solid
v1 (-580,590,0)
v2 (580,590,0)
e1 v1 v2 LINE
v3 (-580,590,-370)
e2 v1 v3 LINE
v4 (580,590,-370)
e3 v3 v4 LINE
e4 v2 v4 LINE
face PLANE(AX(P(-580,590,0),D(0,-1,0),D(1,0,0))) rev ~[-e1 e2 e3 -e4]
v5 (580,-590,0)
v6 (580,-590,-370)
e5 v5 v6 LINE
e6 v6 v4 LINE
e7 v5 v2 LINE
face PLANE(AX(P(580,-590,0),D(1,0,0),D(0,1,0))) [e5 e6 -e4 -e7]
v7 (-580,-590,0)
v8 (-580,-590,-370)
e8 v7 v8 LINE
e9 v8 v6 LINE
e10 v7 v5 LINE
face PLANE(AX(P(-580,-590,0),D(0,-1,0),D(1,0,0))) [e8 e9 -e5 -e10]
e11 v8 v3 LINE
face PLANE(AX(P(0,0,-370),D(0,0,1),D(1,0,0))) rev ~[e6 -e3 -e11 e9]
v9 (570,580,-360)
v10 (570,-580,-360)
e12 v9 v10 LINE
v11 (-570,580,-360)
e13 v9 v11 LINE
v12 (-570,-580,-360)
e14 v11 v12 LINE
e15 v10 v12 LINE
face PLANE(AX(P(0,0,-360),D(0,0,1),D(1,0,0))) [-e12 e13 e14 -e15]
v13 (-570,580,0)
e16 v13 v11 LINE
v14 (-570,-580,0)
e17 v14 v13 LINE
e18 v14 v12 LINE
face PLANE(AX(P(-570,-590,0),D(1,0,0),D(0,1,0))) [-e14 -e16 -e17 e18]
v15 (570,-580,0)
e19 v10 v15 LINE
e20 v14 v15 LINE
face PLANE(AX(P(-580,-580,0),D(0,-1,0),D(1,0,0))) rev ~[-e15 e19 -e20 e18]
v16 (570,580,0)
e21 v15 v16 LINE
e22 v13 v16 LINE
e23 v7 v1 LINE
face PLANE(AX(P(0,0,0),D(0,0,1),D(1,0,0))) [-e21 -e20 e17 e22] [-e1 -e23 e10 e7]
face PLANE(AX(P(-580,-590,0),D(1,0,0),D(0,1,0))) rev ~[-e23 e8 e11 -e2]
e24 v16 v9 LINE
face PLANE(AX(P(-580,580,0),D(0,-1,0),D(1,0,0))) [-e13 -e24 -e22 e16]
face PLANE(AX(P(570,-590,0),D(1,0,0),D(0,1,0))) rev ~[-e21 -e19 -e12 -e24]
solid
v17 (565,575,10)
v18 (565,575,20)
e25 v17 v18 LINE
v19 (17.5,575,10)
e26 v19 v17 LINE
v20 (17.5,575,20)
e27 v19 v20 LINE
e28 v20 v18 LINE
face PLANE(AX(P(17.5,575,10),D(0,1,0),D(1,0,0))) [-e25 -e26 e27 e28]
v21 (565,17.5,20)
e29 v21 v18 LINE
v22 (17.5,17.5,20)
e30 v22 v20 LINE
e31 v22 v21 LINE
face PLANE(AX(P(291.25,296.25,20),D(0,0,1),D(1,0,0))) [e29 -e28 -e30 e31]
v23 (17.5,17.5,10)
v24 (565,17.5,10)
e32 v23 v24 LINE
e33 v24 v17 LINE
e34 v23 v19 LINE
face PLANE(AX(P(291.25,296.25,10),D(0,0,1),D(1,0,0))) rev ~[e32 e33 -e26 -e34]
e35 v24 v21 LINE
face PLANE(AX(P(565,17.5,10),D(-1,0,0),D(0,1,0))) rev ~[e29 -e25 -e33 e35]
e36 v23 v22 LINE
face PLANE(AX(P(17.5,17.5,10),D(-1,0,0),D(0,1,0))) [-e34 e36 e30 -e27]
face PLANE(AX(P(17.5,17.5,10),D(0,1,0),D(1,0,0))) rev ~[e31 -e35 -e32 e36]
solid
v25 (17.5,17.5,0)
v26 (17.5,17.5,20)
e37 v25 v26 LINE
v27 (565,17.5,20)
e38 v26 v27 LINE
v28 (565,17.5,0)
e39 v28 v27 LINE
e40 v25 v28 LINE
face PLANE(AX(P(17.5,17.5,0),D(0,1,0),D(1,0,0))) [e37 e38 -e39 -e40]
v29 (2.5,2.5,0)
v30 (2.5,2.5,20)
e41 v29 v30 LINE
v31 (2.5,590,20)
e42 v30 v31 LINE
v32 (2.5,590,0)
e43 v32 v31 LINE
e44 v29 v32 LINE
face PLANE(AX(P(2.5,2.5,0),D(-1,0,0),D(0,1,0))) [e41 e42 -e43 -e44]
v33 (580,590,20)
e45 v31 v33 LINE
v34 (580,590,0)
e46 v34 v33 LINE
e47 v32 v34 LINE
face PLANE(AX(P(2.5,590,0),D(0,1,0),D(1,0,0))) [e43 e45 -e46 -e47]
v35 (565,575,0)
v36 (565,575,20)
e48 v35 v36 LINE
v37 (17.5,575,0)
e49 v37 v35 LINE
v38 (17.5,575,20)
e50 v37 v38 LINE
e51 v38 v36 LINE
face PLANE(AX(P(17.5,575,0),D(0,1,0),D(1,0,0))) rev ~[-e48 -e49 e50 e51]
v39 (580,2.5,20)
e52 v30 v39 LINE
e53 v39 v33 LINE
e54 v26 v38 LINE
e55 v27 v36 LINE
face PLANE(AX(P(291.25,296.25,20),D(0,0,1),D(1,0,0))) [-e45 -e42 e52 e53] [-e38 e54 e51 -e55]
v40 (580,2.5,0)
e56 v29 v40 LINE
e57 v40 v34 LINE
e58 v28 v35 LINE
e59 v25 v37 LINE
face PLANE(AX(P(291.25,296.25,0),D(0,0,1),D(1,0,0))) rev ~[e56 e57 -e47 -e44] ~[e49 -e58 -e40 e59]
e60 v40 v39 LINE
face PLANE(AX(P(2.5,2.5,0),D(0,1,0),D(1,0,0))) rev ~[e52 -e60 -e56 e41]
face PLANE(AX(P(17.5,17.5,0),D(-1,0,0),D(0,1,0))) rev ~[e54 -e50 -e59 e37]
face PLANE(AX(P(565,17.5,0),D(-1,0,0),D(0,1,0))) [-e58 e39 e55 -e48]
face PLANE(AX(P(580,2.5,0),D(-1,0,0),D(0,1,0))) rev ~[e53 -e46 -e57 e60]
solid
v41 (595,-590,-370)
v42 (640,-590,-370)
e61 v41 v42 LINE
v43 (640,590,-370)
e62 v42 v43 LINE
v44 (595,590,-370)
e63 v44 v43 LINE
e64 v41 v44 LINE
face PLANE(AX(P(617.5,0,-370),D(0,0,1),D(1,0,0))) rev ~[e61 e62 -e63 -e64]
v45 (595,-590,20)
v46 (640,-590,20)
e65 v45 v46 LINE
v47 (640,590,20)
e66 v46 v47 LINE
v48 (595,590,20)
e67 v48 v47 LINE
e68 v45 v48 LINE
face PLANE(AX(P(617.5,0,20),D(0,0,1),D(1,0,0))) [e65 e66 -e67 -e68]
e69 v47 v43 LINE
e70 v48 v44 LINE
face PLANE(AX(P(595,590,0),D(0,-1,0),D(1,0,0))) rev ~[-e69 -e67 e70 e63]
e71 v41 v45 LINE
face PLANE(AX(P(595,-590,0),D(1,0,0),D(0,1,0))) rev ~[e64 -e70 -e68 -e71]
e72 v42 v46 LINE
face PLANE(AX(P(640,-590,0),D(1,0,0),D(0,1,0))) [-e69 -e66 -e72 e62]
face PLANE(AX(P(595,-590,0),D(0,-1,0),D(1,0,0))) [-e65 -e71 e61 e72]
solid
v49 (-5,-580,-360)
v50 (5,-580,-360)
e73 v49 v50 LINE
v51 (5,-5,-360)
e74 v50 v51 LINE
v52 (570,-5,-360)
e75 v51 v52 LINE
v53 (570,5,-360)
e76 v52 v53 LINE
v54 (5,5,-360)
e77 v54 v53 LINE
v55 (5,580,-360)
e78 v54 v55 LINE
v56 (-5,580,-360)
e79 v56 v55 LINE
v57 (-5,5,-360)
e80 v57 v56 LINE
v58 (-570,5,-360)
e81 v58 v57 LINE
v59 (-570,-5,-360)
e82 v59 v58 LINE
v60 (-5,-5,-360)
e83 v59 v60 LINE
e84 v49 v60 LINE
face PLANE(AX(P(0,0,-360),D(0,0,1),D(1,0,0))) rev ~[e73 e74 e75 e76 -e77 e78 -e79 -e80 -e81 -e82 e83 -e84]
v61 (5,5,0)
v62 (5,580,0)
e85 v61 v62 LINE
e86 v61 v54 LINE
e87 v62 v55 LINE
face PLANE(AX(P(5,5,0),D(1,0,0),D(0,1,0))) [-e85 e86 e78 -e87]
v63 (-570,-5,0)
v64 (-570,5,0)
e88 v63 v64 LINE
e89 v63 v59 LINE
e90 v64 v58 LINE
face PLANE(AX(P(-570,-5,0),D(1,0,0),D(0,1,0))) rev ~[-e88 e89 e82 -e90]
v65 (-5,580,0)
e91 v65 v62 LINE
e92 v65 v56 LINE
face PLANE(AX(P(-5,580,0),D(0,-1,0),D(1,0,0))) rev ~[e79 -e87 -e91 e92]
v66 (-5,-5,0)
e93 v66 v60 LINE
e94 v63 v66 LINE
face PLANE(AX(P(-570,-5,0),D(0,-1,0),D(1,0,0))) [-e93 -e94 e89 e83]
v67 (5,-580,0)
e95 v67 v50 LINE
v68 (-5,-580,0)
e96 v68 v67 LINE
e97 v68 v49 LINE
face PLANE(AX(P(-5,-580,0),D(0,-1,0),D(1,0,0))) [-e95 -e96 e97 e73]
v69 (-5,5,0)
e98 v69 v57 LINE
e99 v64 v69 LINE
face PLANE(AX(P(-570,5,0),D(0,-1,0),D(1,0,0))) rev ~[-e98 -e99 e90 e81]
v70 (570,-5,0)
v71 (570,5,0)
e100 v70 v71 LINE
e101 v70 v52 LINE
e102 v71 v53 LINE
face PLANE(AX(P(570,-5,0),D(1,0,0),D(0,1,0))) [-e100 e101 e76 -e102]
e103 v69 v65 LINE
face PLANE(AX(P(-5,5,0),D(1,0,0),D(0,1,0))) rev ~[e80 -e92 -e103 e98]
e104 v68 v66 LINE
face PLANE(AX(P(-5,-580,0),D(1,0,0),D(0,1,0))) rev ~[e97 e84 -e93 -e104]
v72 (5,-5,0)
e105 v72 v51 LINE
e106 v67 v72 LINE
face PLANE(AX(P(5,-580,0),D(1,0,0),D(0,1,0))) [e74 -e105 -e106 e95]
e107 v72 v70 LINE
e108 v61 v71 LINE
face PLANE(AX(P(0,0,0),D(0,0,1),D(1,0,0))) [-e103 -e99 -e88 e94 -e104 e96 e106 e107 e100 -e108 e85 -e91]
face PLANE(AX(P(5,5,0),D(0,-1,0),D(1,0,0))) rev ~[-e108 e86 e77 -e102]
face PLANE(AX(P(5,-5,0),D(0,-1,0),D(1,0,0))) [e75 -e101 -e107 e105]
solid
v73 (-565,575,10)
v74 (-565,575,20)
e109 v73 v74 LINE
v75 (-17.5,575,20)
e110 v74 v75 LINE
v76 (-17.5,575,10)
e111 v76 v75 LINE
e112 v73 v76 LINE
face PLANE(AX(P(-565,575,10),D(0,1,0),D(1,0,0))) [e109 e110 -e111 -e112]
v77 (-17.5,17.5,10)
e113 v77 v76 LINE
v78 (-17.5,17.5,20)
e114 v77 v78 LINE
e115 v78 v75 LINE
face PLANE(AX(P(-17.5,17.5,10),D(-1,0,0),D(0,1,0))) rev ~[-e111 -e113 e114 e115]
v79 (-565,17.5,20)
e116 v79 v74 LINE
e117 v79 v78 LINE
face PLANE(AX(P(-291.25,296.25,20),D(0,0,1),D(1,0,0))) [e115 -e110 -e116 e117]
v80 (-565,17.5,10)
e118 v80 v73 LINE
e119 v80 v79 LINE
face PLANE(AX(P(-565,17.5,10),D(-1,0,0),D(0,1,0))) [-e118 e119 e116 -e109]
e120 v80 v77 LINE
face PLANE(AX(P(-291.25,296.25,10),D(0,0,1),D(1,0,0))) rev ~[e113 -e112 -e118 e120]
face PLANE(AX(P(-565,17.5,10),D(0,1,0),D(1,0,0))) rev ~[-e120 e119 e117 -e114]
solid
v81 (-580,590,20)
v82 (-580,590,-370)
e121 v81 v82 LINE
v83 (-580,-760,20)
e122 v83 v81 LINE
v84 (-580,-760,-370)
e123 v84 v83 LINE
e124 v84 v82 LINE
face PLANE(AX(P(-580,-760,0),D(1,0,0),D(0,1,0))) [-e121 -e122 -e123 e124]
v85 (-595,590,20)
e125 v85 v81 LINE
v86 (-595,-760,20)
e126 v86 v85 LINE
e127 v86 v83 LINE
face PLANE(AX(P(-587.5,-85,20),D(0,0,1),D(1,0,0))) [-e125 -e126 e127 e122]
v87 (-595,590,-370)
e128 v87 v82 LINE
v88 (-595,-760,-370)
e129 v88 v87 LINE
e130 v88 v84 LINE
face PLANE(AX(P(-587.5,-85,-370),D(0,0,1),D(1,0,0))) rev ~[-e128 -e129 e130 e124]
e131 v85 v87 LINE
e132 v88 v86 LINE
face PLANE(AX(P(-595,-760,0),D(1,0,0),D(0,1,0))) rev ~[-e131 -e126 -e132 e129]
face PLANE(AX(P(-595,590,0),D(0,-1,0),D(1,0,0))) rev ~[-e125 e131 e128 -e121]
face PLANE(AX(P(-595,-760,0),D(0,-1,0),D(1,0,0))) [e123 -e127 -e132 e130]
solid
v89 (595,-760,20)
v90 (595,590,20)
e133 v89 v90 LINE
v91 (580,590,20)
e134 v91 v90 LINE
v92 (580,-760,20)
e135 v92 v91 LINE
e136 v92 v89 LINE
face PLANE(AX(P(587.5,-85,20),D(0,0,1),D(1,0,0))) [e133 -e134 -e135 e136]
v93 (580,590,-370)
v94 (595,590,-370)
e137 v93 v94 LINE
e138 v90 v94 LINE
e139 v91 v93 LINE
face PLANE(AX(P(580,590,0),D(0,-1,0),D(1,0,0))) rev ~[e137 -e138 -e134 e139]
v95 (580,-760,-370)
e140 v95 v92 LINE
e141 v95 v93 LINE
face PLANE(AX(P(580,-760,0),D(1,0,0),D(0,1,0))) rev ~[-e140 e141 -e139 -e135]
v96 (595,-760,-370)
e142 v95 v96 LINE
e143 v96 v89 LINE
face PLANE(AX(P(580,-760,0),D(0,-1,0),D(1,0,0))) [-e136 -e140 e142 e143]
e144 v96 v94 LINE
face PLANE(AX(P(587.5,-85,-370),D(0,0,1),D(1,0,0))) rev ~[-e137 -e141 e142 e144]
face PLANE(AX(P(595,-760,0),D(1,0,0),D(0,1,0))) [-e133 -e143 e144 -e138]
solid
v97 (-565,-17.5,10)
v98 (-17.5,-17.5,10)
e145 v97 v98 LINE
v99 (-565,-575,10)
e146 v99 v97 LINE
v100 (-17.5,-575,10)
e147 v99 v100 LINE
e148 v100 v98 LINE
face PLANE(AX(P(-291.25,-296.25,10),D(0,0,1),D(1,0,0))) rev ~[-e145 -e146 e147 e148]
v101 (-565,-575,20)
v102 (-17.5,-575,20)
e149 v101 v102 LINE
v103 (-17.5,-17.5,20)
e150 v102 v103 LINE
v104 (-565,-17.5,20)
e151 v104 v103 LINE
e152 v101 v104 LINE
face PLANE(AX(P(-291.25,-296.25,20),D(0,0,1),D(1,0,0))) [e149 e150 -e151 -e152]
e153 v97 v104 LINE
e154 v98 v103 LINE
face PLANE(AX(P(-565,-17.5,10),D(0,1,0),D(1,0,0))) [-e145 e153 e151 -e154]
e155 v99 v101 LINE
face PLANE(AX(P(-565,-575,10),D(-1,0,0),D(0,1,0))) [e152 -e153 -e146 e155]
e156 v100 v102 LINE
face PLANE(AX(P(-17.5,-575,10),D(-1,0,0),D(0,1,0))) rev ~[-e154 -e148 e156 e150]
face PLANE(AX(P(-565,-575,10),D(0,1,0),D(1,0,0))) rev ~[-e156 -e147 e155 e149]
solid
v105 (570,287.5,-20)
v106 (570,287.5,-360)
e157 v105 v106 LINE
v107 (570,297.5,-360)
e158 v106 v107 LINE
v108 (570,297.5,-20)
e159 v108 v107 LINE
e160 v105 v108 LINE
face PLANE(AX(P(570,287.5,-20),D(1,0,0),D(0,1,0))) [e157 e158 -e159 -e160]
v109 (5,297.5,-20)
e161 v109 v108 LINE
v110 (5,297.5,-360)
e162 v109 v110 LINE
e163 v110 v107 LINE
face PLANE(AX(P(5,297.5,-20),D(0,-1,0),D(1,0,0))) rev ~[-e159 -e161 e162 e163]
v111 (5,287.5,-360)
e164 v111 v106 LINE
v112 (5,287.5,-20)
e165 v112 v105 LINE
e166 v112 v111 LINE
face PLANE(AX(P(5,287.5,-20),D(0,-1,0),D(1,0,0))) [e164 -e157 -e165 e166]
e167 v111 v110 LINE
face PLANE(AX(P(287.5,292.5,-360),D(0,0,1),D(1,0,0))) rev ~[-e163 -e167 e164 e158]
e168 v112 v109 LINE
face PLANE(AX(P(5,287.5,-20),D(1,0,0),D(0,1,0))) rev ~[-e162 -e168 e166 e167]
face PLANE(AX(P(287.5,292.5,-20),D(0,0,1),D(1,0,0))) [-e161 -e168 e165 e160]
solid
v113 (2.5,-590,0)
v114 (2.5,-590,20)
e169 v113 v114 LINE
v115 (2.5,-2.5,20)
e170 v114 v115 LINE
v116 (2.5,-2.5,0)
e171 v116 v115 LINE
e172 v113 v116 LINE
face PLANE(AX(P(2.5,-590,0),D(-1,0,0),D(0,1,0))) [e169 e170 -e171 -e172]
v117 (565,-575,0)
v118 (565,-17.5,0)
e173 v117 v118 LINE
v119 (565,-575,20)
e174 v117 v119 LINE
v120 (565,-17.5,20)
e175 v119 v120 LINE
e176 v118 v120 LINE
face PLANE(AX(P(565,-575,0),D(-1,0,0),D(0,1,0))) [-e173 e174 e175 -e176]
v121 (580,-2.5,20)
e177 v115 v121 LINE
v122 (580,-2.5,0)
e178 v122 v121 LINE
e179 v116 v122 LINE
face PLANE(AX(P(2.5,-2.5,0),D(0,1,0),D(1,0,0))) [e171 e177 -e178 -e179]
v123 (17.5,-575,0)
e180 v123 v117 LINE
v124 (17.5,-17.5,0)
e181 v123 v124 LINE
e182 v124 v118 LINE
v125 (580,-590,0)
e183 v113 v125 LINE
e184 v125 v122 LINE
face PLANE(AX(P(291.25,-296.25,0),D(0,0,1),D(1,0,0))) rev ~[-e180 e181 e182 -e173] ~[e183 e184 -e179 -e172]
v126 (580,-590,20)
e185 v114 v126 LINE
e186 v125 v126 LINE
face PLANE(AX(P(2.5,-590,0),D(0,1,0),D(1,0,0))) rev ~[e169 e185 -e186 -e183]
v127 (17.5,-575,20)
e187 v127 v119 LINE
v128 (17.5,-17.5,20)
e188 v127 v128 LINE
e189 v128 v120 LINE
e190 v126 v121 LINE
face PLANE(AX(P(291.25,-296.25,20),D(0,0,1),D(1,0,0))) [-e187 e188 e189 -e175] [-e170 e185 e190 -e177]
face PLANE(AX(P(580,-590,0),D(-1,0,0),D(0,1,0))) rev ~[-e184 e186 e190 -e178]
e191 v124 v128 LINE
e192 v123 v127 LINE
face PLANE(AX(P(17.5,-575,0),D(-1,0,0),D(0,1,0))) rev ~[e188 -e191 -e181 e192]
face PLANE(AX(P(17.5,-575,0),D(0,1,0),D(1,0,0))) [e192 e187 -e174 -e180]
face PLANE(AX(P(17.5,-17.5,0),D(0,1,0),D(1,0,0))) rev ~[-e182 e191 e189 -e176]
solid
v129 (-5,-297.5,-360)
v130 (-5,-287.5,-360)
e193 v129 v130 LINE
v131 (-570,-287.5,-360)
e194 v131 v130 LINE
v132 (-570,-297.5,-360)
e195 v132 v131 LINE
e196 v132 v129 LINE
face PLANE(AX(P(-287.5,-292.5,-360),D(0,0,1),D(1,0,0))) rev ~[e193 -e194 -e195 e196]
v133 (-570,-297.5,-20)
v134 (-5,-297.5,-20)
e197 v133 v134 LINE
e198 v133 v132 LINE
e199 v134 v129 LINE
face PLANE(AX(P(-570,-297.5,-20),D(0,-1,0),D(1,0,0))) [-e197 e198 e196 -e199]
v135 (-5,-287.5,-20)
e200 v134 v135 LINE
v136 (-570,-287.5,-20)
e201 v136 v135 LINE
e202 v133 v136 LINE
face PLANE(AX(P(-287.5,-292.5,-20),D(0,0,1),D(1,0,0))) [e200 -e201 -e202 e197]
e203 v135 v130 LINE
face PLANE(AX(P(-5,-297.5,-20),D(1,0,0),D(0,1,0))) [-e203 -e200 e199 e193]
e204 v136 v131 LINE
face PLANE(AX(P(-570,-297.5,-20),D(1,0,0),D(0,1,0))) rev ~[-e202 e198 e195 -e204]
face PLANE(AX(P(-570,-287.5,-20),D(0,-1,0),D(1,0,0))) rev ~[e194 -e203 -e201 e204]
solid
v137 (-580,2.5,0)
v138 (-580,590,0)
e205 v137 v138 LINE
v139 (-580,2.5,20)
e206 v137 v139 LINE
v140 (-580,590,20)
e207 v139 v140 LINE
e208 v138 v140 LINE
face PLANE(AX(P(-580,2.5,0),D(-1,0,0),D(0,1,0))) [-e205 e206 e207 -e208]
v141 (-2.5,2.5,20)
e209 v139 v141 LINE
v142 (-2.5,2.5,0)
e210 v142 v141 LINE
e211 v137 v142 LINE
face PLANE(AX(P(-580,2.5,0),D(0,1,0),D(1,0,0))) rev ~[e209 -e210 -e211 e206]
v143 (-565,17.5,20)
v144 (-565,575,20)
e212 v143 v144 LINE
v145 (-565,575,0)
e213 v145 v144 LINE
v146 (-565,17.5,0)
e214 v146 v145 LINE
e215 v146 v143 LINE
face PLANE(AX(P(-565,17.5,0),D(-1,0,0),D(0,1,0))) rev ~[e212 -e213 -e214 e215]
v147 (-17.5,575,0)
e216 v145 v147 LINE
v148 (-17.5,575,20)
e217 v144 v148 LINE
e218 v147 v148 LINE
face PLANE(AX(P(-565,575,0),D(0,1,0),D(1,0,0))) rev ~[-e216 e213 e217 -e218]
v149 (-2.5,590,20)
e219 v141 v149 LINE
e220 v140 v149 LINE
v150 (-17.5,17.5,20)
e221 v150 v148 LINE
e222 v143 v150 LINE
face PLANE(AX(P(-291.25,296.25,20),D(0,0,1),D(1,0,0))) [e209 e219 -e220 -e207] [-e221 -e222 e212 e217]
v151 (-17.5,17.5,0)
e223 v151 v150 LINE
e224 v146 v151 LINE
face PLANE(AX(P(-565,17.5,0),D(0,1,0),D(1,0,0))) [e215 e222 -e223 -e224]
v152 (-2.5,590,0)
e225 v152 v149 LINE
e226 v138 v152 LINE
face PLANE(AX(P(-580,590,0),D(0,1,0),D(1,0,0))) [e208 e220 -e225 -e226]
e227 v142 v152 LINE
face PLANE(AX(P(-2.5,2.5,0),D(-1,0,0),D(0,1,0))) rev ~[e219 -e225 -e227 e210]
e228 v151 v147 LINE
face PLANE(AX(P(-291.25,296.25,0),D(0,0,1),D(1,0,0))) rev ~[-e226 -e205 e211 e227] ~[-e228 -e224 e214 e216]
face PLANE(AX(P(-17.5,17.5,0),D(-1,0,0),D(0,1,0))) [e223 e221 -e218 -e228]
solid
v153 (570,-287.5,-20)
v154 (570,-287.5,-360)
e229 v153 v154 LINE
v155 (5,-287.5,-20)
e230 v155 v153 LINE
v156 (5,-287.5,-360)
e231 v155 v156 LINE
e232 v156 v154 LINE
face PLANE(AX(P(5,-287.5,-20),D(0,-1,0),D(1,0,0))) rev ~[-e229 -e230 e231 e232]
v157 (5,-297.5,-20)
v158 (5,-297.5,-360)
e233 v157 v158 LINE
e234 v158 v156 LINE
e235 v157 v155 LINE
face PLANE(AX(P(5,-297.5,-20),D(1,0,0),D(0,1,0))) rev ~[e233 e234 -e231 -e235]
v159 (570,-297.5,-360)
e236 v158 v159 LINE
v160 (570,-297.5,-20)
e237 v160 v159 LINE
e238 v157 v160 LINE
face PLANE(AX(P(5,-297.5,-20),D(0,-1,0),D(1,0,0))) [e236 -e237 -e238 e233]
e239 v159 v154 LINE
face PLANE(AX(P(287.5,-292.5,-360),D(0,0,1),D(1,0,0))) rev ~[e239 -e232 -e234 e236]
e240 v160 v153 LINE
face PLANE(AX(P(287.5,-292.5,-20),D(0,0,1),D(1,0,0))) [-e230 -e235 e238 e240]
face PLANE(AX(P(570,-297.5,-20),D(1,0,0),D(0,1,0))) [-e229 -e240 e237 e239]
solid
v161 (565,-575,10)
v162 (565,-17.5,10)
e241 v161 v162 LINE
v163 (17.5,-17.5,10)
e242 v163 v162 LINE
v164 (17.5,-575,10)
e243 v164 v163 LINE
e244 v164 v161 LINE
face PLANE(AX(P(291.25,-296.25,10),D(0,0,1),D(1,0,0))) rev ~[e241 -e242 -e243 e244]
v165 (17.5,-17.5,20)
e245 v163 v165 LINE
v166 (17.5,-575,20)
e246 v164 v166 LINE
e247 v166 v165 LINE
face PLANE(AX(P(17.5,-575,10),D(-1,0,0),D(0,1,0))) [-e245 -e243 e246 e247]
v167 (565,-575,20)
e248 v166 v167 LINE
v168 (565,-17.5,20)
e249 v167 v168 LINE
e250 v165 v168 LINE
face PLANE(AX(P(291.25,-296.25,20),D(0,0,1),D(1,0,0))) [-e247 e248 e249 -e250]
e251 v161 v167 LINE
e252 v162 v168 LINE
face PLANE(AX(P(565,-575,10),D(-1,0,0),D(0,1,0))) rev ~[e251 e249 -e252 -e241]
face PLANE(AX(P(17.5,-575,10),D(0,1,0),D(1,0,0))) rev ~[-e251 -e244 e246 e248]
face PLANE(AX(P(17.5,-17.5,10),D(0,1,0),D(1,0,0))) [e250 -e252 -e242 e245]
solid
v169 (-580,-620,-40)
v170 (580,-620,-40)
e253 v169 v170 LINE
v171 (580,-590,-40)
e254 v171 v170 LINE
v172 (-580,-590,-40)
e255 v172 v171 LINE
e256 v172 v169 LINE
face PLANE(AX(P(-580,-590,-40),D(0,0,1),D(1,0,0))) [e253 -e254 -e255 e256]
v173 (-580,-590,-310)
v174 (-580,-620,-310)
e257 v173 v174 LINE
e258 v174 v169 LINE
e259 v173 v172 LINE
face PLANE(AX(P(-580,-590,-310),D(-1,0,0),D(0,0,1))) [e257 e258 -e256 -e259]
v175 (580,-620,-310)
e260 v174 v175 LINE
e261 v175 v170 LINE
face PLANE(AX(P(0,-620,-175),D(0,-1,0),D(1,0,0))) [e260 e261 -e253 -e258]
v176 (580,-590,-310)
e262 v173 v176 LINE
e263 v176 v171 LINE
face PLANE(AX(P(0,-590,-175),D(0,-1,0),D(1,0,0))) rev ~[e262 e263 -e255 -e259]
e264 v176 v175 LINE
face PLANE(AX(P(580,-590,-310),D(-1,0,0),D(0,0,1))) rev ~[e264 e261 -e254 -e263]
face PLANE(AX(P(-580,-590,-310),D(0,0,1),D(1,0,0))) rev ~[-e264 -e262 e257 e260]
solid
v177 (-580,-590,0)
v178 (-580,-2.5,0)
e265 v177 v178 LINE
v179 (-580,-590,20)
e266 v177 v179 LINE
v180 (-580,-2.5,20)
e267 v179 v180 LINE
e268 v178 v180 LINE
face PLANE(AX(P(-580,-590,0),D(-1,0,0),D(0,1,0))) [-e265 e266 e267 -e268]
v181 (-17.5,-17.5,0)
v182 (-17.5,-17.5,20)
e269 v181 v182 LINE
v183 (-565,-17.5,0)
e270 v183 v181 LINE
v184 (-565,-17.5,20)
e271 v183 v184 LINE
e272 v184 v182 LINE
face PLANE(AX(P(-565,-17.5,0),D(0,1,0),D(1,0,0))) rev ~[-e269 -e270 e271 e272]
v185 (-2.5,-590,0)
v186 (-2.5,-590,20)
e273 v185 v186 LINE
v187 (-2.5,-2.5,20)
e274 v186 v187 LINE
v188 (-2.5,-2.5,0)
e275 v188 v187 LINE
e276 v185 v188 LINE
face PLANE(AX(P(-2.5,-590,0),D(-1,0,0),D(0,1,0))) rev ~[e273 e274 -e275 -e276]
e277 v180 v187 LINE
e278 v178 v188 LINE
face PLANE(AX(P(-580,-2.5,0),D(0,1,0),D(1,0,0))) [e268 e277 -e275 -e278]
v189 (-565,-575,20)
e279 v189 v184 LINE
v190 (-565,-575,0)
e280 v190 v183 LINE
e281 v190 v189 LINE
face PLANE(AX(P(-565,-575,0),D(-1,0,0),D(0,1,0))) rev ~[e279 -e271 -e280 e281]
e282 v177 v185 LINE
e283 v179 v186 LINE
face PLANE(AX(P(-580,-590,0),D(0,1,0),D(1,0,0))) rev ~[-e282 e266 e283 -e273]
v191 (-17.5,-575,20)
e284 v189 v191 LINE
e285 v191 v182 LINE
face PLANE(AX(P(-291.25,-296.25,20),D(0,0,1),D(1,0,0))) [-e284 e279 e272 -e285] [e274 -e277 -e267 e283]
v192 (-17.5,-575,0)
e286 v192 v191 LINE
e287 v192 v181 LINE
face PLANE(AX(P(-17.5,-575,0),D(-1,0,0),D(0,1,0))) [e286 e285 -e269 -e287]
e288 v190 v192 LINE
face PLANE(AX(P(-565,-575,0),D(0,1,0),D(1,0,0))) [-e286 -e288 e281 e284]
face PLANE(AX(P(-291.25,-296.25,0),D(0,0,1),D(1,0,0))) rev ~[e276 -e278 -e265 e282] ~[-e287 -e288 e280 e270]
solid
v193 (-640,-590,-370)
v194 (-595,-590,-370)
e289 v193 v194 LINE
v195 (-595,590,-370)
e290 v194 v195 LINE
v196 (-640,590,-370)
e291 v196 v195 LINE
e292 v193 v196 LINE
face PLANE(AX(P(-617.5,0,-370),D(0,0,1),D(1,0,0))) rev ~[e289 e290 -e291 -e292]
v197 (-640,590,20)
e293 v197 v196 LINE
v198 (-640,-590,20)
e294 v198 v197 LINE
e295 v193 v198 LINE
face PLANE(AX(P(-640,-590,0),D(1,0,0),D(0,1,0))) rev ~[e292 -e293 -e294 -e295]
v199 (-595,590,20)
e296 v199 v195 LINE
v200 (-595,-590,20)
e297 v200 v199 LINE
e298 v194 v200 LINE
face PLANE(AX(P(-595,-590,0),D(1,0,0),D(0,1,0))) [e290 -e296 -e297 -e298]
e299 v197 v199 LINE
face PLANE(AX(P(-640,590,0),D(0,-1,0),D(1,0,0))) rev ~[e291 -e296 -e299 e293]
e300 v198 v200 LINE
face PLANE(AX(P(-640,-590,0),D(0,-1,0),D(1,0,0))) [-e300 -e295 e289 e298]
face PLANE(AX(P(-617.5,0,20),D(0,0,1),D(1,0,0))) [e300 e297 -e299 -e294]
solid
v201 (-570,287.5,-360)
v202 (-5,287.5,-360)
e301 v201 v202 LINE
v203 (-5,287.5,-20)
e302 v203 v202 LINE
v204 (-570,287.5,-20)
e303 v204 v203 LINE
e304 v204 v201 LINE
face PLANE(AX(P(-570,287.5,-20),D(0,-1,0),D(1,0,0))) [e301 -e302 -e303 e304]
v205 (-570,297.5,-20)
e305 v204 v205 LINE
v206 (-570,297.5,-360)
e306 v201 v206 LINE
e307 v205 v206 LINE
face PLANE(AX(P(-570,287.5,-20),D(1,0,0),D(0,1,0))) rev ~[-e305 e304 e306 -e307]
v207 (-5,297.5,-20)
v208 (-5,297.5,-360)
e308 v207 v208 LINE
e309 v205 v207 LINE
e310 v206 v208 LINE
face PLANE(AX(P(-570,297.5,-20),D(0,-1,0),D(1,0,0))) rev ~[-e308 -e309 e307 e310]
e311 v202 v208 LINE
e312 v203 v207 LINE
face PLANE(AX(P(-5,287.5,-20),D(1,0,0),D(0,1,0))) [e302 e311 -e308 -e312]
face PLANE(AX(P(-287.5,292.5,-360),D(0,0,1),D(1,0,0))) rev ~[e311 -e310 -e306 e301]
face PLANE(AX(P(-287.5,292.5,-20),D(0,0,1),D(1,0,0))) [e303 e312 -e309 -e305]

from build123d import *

# Parameters (mm, degrees)
CROQUIS1_W                     = 1160
CROQUIS1_H                     = 1180
SALIENTE_EXTRUIR1_DEPTH        = 370
VACIADO1_T                     = -10
CROQUIS1_4_W                   = 45
CROQUIS1_4_H                   = 1180
SALIENTE_EXTRUIR3_DEPTH        = 20
SALIENTE_EXTRUIR3_DEPTH_BACK   = 370
SALIENTE_EXTRUIR3_2_DEPTH      = 20
SALIENTE_EXTRUIR3_2_DEPTH_BACK = 370
CROQUIS2_W                     = 15
CROQUIS2_H                     = 1350
SALIENTE_EXTRUIR2_DEPTH        = 20
SALIENTE_EXTRUIR2_DEPTH_BACK   = 370
SALIENTE_EXTRUIR2_2_DEPTH      = 20
SALIENTE_EXTRUIR2_2_DEPTH_BACK = 370
CROQUIS3_W                     = 10
CROQUIS3_H                     = 1160
CROQUIS3_W_2                   = 1140
CROQUIS3_H_2                   = 10
SALIENTE_EXTRUIR4_DEPTH        = 360
SALIENTE_EXTRUIR5_START        = -20
CROQUIS4_W                     = 565
CROQUIS4_H                     = 10
SALIENTE_EXTRUIR5_DEPTH        = 340
SALIENTE_EXTRUIR5_2_DEPTH      = 340
SALIENTE_EXTRUIR5_3_DEPTH      = 340
SALIENTE_EXTRUIR5_4_DEPTH      = 340
CROQUIS5_W                     = 577.5
CROQUIS5_H                     = 587.5
CROQUIS5_W_2                   = 547.5
CROQUIS5_H_2                   = 557.5
SALIENTE_EXTRUIR6_DEPTH        = 20
SALIENTE_EXTRUIR6_2_DEPTH      = 20
SALIENTE_EXTRUIR6_3_DEPTH      = 20
SALIENTE_EXTRUIR6_4_DEPTH      = 20
SALIENTE_EXTRUIR7_START        = 10
CROQUIS5_2_W                   = 547.5
CROQUIS5_2_H                   = 557.5
SALIENTE_EXTRUIR7_DEPTH        = 10
SALIENTE_EXTRUIR7_2_DEPTH      = 10
SALIENTE_EXTRUIR7_3_DEPTH      = 10
SALIENTE_EXTRUIR7_4_DEPTH      = 10
CROQUIS6_W                     = 1160
CROQUIS6_H                     = 270
SALIENTE_EXTRUIR8_DEPTH        = 30


with BuildPart() as part:
    # Croquis1 → Saliente-Extruir1 (new body)
    with BuildSketch(Plane.XY):
        Rectangle(CROQUIS1_W, CROQUIS1_H)
    extrude(amount=-SALIENTE_EXTRUIR1_DEPTH)

    # Vaciado1
    vaciado1_openings = [part.faces().sort_by_distance(p)[0] for p in [
        (0, 0, 0),
    ]]
    offset(amount=VACIADO1_T, openings=vaciado1_openings, kind=Kind.INTERSECTION)


with BuildPart() as body_2:
    # Croquis1_4 → Saliente-Extruir3 (new body, two sides)
    with BuildSketch(Plane.XY) as saliente_extruir3_sk:
        with Locations((-617.5, 0)):
            Rectangle(CROQUIS1_4_W, CROQUIS1_4_H)
    extrude(amount=SALIENTE_EXTRUIR3_DEPTH)
    extrude(saliente_extruir3_sk.sketch, amount=-SALIENTE_EXTRUIR3_DEPTH_BACK)


with BuildPart() as body_3:
    # Croquis1_4 → Saliente-Extruir3 2 (new body, two sides)
    with BuildSketch(Plane.XY) as saliente_extruir3_2_sk:
        with Locations((617.5, 0)):
            Rectangle(CROQUIS1_4_W, CROQUIS1_4_H)
    extrude(amount=SALIENTE_EXTRUIR3_2_DEPTH)
    extrude(saliente_extruir3_2_sk.sketch, amount=-SALIENTE_EXTRUIR3_2_DEPTH_BACK)


with BuildPart() as body_4:
    # Croquis2 → Saliente-Extruir2 (new body, two sides)
    with BuildSketch(Plane.XY) as saliente_extruir2_sk:
        with Locations((-587.5, -85)):
            Rectangle(CROQUIS2_W, CROQUIS2_H)
    extrude(amount=SALIENTE_EXTRUIR2_DEPTH)
    extrude(saliente_extruir2_sk.sketch, amount=-SALIENTE_EXTRUIR2_DEPTH_BACK)


with BuildPart() as body_5:
    # Croquis2 → Saliente-Extruir2 2 (new body, two sides)
    with BuildSketch(Plane.XY) as saliente_extruir2_2_sk:
        with Locations((587.5, -85)):
            Rectangle(CROQUIS2_W, CROQUIS2_H)
    extrude(amount=SALIENTE_EXTRUIR2_2_DEPTH)
    extrude(saliente_extruir2_2_sk.sketch, amount=-SALIENTE_EXTRUIR2_2_DEPTH_BACK)


with BuildPart() as body_6:
    # Croquis3 → Saliente-Extruir4 (new body)
    with BuildSketch(Plane.XY):
        Rectangle(CROQUIS3_W, CROQUIS3_H)
        Rectangle(CROQUIS3_W_2, CROQUIS3_H_2)
    extrude(amount=-SALIENTE_EXTRUIR4_DEPTH)


with BuildPart() as body_7:
    # Croquis4 → Saliente-Extruir5 (new body)
    with BuildSketch(Plane.XY.offset(SALIENTE_EXTRUIR5_START)):
        with Locations((-287.5, 292.5)):
            Rectangle(CROQUIS4_W, CROQUIS4_H)
    extrude(amount=-SALIENTE_EXTRUIR5_DEPTH)


with BuildPart() as body_8:
    # Croquis4 → Saliente-Extruir5 2 (new body)
    with BuildSketch(Plane.XY.offset(SALIENTE_EXTRUIR5_START)):
        with Locations((287.5, 292.5)):
            Rectangle(CROQUIS4_W, CROQUIS4_H)
    extrude(amount=-SALIENTE_EXTRUIR5_2_DEPTH)


with BuildPart() as body_9:
    # Croquis4 → Saliente-Extruir5 3 (new body)
    with BuildSketch(Plane.XY.offset(SALIENTE_EXTRUIR5_START)):
        with Locations((287.5, -292.5)):
            Rectangle(CROQUIS4_W, CROQUIS4_H)
    extrude(amount=-SALIENTE_EXTRUIR5_3_DEPTH)


with BuildPart() as body_10:
    # Croquis4 → Saliente-Extruir5 4 (new body)
    with BuildSketch(Plane.XY.offset(SALIENTE_EXTRUIR5_START)):
        with Locations((-287.5, -292.5)):
            Rectangle(CROQUIS4_W, CROQUIS4_H)
    extrude(amount=-SALIENTE_EXTRUIR5_4_DEPTH)


with BuildPart() as body_11:
    # Croquis5 → Saliente-Extruir6 (new body)
    with BuildSketch(Plane.XY):
        with Locations((-291.25, -296.25)):
            Rectangle(CROQUIS5_W, CROQUIS5_H)
        with Locations((-291.25, -296.25)):
            Rectangle(CROQUIS5_W_2, CROQUIS5_H_2, mode=Mode.SUBTRACT)
    extrude(amount=SALIENTE_EXTRUIR6_DEPTH)


with BuildPart() as body_12:
    # Croquis5 → Saliente-Extruir6 2 (new body)
    with BuildSketch(Plane.XY):
        with Locations((-291.25, 296.25)):
            Rectangle(CROQUIS5_W, CROQUIS5_H)
        with Locations((-291.25, 296.25)):
            Rectangle(CROQUIS5_W_2, CROQUIS5_H_2, mode=Mode.SUBTRACT)
    extrude(amount=SALIENTE_EXTRUIR6_2_DEPTH)


with BuildPart() as body_13:
    # Croquis5 → Saliente-Extruir6 3 (new body)
    with BuildSketch(Plane.XY):
        with Locations((291.25, 296.25)):
            Rectangle(CROQUIS5_W, CROQUIS5_H)
        with Locations((291.25, 296.25)):
            Rectangle(CROQUIS5_W_2, CROQUIS5_H_2, mode=Mode.SUBTRACT)
    extrude(amount=SALIENTE_EXTRUIR6_3_DEPTH)


with BuildPart() as body_14:
    # Croquis5 → Saliente-Extruir6 4 (new body)
    with BuildSketch(Plane.XY):
        with Locations((291.25, -296.25)):
            Rectangle(CROQUIS5_W, CROQUIS5_H)
        with Locations((291.25, -296.25)):
            Rectangle(CROQUIS5_W_2, CROQUIS5_H_2, mode=Mode.SUBTRACT)
    extrude(amount=SALIENTE_EXTRUIR6_4_DEPTH)


with BuildPart() as body_15:
    # Croquis5_2 → Saliente-Extruir7 (new body)
    with BuildSketch(Plane.XY.offset(SALIENTE_EXTRUIR7_START)):
        with Locations((-291.25, 296.25)):
            Rectangle(CROQUIS5_2_W, CROQUIS5_2_H)
    extrude(amount=SALIENTE_EXTRUIR7_DEPTH)


with BuildPart() as body_16:
    # Croquis5_2 → Saliente-Extruir7 2 (new body)
    with BuildSketch(Plane.XY.offset(SALIENTE_EXTRUIR7_START)):
        with Locations((291.25, 296.25)):
            Rectangle(CROQUIS5_2_W, CROQUIS5_2_H)
    extrude(amount=SALIENTE_EXTRUIR7_2_DEPTH)


with BuildPart() as body_17:
    # Croquis5_2 → Saliente-Extruir7 3 (new body)
    with BuildSketch(Plane.XY.offset(SALIENTE_EXTRUIR7_START)):
        with Locations((-291.25, -296.25)):
            Rectangle(CROQUIS5_2_W, CROQUIS5_2_H)
    extrude(amount=SALIENTE_EXTRUIR7_3_DEPTH)


with BuildPart() as body_18:
    # Croquis5_2 → Saliente-Extruir7 4 (new body)
    with BuildSketch(Plane.XY.offset(SALIENTE_EXTRUIR7_START)):
        with Locations((291.25, -296.25)):
            Rectangle(CROQUIS5_2_W, CROQUIS5_2_H)
    extrude(amount=SALIENTE_EXTRUIR7_4_DEPTH)


with BuildPart() as body_19:
    # Croquis6 → Saliente-Extruir8 (new body)
    with BuildSketch(Plane.XZ.offset(590)):
        with Locations((0, -175)):
            Rectangle(CROQUIS6_W, CROQUIS6_H)
    extrude(amount=SALIENTE_EXTRUIR8_DEPTH)


solid = Compound([part.part, body_2.part, body_3.part, body_4.part, body_5.part, body_6.part, body_7.part, body_8.part, body_9.part, body_10.part, body_11.part, body_12.part, body_13.part, body_14.part, body_15.part, body_16.part, body_17.part, body_18.part, body_19.part])
